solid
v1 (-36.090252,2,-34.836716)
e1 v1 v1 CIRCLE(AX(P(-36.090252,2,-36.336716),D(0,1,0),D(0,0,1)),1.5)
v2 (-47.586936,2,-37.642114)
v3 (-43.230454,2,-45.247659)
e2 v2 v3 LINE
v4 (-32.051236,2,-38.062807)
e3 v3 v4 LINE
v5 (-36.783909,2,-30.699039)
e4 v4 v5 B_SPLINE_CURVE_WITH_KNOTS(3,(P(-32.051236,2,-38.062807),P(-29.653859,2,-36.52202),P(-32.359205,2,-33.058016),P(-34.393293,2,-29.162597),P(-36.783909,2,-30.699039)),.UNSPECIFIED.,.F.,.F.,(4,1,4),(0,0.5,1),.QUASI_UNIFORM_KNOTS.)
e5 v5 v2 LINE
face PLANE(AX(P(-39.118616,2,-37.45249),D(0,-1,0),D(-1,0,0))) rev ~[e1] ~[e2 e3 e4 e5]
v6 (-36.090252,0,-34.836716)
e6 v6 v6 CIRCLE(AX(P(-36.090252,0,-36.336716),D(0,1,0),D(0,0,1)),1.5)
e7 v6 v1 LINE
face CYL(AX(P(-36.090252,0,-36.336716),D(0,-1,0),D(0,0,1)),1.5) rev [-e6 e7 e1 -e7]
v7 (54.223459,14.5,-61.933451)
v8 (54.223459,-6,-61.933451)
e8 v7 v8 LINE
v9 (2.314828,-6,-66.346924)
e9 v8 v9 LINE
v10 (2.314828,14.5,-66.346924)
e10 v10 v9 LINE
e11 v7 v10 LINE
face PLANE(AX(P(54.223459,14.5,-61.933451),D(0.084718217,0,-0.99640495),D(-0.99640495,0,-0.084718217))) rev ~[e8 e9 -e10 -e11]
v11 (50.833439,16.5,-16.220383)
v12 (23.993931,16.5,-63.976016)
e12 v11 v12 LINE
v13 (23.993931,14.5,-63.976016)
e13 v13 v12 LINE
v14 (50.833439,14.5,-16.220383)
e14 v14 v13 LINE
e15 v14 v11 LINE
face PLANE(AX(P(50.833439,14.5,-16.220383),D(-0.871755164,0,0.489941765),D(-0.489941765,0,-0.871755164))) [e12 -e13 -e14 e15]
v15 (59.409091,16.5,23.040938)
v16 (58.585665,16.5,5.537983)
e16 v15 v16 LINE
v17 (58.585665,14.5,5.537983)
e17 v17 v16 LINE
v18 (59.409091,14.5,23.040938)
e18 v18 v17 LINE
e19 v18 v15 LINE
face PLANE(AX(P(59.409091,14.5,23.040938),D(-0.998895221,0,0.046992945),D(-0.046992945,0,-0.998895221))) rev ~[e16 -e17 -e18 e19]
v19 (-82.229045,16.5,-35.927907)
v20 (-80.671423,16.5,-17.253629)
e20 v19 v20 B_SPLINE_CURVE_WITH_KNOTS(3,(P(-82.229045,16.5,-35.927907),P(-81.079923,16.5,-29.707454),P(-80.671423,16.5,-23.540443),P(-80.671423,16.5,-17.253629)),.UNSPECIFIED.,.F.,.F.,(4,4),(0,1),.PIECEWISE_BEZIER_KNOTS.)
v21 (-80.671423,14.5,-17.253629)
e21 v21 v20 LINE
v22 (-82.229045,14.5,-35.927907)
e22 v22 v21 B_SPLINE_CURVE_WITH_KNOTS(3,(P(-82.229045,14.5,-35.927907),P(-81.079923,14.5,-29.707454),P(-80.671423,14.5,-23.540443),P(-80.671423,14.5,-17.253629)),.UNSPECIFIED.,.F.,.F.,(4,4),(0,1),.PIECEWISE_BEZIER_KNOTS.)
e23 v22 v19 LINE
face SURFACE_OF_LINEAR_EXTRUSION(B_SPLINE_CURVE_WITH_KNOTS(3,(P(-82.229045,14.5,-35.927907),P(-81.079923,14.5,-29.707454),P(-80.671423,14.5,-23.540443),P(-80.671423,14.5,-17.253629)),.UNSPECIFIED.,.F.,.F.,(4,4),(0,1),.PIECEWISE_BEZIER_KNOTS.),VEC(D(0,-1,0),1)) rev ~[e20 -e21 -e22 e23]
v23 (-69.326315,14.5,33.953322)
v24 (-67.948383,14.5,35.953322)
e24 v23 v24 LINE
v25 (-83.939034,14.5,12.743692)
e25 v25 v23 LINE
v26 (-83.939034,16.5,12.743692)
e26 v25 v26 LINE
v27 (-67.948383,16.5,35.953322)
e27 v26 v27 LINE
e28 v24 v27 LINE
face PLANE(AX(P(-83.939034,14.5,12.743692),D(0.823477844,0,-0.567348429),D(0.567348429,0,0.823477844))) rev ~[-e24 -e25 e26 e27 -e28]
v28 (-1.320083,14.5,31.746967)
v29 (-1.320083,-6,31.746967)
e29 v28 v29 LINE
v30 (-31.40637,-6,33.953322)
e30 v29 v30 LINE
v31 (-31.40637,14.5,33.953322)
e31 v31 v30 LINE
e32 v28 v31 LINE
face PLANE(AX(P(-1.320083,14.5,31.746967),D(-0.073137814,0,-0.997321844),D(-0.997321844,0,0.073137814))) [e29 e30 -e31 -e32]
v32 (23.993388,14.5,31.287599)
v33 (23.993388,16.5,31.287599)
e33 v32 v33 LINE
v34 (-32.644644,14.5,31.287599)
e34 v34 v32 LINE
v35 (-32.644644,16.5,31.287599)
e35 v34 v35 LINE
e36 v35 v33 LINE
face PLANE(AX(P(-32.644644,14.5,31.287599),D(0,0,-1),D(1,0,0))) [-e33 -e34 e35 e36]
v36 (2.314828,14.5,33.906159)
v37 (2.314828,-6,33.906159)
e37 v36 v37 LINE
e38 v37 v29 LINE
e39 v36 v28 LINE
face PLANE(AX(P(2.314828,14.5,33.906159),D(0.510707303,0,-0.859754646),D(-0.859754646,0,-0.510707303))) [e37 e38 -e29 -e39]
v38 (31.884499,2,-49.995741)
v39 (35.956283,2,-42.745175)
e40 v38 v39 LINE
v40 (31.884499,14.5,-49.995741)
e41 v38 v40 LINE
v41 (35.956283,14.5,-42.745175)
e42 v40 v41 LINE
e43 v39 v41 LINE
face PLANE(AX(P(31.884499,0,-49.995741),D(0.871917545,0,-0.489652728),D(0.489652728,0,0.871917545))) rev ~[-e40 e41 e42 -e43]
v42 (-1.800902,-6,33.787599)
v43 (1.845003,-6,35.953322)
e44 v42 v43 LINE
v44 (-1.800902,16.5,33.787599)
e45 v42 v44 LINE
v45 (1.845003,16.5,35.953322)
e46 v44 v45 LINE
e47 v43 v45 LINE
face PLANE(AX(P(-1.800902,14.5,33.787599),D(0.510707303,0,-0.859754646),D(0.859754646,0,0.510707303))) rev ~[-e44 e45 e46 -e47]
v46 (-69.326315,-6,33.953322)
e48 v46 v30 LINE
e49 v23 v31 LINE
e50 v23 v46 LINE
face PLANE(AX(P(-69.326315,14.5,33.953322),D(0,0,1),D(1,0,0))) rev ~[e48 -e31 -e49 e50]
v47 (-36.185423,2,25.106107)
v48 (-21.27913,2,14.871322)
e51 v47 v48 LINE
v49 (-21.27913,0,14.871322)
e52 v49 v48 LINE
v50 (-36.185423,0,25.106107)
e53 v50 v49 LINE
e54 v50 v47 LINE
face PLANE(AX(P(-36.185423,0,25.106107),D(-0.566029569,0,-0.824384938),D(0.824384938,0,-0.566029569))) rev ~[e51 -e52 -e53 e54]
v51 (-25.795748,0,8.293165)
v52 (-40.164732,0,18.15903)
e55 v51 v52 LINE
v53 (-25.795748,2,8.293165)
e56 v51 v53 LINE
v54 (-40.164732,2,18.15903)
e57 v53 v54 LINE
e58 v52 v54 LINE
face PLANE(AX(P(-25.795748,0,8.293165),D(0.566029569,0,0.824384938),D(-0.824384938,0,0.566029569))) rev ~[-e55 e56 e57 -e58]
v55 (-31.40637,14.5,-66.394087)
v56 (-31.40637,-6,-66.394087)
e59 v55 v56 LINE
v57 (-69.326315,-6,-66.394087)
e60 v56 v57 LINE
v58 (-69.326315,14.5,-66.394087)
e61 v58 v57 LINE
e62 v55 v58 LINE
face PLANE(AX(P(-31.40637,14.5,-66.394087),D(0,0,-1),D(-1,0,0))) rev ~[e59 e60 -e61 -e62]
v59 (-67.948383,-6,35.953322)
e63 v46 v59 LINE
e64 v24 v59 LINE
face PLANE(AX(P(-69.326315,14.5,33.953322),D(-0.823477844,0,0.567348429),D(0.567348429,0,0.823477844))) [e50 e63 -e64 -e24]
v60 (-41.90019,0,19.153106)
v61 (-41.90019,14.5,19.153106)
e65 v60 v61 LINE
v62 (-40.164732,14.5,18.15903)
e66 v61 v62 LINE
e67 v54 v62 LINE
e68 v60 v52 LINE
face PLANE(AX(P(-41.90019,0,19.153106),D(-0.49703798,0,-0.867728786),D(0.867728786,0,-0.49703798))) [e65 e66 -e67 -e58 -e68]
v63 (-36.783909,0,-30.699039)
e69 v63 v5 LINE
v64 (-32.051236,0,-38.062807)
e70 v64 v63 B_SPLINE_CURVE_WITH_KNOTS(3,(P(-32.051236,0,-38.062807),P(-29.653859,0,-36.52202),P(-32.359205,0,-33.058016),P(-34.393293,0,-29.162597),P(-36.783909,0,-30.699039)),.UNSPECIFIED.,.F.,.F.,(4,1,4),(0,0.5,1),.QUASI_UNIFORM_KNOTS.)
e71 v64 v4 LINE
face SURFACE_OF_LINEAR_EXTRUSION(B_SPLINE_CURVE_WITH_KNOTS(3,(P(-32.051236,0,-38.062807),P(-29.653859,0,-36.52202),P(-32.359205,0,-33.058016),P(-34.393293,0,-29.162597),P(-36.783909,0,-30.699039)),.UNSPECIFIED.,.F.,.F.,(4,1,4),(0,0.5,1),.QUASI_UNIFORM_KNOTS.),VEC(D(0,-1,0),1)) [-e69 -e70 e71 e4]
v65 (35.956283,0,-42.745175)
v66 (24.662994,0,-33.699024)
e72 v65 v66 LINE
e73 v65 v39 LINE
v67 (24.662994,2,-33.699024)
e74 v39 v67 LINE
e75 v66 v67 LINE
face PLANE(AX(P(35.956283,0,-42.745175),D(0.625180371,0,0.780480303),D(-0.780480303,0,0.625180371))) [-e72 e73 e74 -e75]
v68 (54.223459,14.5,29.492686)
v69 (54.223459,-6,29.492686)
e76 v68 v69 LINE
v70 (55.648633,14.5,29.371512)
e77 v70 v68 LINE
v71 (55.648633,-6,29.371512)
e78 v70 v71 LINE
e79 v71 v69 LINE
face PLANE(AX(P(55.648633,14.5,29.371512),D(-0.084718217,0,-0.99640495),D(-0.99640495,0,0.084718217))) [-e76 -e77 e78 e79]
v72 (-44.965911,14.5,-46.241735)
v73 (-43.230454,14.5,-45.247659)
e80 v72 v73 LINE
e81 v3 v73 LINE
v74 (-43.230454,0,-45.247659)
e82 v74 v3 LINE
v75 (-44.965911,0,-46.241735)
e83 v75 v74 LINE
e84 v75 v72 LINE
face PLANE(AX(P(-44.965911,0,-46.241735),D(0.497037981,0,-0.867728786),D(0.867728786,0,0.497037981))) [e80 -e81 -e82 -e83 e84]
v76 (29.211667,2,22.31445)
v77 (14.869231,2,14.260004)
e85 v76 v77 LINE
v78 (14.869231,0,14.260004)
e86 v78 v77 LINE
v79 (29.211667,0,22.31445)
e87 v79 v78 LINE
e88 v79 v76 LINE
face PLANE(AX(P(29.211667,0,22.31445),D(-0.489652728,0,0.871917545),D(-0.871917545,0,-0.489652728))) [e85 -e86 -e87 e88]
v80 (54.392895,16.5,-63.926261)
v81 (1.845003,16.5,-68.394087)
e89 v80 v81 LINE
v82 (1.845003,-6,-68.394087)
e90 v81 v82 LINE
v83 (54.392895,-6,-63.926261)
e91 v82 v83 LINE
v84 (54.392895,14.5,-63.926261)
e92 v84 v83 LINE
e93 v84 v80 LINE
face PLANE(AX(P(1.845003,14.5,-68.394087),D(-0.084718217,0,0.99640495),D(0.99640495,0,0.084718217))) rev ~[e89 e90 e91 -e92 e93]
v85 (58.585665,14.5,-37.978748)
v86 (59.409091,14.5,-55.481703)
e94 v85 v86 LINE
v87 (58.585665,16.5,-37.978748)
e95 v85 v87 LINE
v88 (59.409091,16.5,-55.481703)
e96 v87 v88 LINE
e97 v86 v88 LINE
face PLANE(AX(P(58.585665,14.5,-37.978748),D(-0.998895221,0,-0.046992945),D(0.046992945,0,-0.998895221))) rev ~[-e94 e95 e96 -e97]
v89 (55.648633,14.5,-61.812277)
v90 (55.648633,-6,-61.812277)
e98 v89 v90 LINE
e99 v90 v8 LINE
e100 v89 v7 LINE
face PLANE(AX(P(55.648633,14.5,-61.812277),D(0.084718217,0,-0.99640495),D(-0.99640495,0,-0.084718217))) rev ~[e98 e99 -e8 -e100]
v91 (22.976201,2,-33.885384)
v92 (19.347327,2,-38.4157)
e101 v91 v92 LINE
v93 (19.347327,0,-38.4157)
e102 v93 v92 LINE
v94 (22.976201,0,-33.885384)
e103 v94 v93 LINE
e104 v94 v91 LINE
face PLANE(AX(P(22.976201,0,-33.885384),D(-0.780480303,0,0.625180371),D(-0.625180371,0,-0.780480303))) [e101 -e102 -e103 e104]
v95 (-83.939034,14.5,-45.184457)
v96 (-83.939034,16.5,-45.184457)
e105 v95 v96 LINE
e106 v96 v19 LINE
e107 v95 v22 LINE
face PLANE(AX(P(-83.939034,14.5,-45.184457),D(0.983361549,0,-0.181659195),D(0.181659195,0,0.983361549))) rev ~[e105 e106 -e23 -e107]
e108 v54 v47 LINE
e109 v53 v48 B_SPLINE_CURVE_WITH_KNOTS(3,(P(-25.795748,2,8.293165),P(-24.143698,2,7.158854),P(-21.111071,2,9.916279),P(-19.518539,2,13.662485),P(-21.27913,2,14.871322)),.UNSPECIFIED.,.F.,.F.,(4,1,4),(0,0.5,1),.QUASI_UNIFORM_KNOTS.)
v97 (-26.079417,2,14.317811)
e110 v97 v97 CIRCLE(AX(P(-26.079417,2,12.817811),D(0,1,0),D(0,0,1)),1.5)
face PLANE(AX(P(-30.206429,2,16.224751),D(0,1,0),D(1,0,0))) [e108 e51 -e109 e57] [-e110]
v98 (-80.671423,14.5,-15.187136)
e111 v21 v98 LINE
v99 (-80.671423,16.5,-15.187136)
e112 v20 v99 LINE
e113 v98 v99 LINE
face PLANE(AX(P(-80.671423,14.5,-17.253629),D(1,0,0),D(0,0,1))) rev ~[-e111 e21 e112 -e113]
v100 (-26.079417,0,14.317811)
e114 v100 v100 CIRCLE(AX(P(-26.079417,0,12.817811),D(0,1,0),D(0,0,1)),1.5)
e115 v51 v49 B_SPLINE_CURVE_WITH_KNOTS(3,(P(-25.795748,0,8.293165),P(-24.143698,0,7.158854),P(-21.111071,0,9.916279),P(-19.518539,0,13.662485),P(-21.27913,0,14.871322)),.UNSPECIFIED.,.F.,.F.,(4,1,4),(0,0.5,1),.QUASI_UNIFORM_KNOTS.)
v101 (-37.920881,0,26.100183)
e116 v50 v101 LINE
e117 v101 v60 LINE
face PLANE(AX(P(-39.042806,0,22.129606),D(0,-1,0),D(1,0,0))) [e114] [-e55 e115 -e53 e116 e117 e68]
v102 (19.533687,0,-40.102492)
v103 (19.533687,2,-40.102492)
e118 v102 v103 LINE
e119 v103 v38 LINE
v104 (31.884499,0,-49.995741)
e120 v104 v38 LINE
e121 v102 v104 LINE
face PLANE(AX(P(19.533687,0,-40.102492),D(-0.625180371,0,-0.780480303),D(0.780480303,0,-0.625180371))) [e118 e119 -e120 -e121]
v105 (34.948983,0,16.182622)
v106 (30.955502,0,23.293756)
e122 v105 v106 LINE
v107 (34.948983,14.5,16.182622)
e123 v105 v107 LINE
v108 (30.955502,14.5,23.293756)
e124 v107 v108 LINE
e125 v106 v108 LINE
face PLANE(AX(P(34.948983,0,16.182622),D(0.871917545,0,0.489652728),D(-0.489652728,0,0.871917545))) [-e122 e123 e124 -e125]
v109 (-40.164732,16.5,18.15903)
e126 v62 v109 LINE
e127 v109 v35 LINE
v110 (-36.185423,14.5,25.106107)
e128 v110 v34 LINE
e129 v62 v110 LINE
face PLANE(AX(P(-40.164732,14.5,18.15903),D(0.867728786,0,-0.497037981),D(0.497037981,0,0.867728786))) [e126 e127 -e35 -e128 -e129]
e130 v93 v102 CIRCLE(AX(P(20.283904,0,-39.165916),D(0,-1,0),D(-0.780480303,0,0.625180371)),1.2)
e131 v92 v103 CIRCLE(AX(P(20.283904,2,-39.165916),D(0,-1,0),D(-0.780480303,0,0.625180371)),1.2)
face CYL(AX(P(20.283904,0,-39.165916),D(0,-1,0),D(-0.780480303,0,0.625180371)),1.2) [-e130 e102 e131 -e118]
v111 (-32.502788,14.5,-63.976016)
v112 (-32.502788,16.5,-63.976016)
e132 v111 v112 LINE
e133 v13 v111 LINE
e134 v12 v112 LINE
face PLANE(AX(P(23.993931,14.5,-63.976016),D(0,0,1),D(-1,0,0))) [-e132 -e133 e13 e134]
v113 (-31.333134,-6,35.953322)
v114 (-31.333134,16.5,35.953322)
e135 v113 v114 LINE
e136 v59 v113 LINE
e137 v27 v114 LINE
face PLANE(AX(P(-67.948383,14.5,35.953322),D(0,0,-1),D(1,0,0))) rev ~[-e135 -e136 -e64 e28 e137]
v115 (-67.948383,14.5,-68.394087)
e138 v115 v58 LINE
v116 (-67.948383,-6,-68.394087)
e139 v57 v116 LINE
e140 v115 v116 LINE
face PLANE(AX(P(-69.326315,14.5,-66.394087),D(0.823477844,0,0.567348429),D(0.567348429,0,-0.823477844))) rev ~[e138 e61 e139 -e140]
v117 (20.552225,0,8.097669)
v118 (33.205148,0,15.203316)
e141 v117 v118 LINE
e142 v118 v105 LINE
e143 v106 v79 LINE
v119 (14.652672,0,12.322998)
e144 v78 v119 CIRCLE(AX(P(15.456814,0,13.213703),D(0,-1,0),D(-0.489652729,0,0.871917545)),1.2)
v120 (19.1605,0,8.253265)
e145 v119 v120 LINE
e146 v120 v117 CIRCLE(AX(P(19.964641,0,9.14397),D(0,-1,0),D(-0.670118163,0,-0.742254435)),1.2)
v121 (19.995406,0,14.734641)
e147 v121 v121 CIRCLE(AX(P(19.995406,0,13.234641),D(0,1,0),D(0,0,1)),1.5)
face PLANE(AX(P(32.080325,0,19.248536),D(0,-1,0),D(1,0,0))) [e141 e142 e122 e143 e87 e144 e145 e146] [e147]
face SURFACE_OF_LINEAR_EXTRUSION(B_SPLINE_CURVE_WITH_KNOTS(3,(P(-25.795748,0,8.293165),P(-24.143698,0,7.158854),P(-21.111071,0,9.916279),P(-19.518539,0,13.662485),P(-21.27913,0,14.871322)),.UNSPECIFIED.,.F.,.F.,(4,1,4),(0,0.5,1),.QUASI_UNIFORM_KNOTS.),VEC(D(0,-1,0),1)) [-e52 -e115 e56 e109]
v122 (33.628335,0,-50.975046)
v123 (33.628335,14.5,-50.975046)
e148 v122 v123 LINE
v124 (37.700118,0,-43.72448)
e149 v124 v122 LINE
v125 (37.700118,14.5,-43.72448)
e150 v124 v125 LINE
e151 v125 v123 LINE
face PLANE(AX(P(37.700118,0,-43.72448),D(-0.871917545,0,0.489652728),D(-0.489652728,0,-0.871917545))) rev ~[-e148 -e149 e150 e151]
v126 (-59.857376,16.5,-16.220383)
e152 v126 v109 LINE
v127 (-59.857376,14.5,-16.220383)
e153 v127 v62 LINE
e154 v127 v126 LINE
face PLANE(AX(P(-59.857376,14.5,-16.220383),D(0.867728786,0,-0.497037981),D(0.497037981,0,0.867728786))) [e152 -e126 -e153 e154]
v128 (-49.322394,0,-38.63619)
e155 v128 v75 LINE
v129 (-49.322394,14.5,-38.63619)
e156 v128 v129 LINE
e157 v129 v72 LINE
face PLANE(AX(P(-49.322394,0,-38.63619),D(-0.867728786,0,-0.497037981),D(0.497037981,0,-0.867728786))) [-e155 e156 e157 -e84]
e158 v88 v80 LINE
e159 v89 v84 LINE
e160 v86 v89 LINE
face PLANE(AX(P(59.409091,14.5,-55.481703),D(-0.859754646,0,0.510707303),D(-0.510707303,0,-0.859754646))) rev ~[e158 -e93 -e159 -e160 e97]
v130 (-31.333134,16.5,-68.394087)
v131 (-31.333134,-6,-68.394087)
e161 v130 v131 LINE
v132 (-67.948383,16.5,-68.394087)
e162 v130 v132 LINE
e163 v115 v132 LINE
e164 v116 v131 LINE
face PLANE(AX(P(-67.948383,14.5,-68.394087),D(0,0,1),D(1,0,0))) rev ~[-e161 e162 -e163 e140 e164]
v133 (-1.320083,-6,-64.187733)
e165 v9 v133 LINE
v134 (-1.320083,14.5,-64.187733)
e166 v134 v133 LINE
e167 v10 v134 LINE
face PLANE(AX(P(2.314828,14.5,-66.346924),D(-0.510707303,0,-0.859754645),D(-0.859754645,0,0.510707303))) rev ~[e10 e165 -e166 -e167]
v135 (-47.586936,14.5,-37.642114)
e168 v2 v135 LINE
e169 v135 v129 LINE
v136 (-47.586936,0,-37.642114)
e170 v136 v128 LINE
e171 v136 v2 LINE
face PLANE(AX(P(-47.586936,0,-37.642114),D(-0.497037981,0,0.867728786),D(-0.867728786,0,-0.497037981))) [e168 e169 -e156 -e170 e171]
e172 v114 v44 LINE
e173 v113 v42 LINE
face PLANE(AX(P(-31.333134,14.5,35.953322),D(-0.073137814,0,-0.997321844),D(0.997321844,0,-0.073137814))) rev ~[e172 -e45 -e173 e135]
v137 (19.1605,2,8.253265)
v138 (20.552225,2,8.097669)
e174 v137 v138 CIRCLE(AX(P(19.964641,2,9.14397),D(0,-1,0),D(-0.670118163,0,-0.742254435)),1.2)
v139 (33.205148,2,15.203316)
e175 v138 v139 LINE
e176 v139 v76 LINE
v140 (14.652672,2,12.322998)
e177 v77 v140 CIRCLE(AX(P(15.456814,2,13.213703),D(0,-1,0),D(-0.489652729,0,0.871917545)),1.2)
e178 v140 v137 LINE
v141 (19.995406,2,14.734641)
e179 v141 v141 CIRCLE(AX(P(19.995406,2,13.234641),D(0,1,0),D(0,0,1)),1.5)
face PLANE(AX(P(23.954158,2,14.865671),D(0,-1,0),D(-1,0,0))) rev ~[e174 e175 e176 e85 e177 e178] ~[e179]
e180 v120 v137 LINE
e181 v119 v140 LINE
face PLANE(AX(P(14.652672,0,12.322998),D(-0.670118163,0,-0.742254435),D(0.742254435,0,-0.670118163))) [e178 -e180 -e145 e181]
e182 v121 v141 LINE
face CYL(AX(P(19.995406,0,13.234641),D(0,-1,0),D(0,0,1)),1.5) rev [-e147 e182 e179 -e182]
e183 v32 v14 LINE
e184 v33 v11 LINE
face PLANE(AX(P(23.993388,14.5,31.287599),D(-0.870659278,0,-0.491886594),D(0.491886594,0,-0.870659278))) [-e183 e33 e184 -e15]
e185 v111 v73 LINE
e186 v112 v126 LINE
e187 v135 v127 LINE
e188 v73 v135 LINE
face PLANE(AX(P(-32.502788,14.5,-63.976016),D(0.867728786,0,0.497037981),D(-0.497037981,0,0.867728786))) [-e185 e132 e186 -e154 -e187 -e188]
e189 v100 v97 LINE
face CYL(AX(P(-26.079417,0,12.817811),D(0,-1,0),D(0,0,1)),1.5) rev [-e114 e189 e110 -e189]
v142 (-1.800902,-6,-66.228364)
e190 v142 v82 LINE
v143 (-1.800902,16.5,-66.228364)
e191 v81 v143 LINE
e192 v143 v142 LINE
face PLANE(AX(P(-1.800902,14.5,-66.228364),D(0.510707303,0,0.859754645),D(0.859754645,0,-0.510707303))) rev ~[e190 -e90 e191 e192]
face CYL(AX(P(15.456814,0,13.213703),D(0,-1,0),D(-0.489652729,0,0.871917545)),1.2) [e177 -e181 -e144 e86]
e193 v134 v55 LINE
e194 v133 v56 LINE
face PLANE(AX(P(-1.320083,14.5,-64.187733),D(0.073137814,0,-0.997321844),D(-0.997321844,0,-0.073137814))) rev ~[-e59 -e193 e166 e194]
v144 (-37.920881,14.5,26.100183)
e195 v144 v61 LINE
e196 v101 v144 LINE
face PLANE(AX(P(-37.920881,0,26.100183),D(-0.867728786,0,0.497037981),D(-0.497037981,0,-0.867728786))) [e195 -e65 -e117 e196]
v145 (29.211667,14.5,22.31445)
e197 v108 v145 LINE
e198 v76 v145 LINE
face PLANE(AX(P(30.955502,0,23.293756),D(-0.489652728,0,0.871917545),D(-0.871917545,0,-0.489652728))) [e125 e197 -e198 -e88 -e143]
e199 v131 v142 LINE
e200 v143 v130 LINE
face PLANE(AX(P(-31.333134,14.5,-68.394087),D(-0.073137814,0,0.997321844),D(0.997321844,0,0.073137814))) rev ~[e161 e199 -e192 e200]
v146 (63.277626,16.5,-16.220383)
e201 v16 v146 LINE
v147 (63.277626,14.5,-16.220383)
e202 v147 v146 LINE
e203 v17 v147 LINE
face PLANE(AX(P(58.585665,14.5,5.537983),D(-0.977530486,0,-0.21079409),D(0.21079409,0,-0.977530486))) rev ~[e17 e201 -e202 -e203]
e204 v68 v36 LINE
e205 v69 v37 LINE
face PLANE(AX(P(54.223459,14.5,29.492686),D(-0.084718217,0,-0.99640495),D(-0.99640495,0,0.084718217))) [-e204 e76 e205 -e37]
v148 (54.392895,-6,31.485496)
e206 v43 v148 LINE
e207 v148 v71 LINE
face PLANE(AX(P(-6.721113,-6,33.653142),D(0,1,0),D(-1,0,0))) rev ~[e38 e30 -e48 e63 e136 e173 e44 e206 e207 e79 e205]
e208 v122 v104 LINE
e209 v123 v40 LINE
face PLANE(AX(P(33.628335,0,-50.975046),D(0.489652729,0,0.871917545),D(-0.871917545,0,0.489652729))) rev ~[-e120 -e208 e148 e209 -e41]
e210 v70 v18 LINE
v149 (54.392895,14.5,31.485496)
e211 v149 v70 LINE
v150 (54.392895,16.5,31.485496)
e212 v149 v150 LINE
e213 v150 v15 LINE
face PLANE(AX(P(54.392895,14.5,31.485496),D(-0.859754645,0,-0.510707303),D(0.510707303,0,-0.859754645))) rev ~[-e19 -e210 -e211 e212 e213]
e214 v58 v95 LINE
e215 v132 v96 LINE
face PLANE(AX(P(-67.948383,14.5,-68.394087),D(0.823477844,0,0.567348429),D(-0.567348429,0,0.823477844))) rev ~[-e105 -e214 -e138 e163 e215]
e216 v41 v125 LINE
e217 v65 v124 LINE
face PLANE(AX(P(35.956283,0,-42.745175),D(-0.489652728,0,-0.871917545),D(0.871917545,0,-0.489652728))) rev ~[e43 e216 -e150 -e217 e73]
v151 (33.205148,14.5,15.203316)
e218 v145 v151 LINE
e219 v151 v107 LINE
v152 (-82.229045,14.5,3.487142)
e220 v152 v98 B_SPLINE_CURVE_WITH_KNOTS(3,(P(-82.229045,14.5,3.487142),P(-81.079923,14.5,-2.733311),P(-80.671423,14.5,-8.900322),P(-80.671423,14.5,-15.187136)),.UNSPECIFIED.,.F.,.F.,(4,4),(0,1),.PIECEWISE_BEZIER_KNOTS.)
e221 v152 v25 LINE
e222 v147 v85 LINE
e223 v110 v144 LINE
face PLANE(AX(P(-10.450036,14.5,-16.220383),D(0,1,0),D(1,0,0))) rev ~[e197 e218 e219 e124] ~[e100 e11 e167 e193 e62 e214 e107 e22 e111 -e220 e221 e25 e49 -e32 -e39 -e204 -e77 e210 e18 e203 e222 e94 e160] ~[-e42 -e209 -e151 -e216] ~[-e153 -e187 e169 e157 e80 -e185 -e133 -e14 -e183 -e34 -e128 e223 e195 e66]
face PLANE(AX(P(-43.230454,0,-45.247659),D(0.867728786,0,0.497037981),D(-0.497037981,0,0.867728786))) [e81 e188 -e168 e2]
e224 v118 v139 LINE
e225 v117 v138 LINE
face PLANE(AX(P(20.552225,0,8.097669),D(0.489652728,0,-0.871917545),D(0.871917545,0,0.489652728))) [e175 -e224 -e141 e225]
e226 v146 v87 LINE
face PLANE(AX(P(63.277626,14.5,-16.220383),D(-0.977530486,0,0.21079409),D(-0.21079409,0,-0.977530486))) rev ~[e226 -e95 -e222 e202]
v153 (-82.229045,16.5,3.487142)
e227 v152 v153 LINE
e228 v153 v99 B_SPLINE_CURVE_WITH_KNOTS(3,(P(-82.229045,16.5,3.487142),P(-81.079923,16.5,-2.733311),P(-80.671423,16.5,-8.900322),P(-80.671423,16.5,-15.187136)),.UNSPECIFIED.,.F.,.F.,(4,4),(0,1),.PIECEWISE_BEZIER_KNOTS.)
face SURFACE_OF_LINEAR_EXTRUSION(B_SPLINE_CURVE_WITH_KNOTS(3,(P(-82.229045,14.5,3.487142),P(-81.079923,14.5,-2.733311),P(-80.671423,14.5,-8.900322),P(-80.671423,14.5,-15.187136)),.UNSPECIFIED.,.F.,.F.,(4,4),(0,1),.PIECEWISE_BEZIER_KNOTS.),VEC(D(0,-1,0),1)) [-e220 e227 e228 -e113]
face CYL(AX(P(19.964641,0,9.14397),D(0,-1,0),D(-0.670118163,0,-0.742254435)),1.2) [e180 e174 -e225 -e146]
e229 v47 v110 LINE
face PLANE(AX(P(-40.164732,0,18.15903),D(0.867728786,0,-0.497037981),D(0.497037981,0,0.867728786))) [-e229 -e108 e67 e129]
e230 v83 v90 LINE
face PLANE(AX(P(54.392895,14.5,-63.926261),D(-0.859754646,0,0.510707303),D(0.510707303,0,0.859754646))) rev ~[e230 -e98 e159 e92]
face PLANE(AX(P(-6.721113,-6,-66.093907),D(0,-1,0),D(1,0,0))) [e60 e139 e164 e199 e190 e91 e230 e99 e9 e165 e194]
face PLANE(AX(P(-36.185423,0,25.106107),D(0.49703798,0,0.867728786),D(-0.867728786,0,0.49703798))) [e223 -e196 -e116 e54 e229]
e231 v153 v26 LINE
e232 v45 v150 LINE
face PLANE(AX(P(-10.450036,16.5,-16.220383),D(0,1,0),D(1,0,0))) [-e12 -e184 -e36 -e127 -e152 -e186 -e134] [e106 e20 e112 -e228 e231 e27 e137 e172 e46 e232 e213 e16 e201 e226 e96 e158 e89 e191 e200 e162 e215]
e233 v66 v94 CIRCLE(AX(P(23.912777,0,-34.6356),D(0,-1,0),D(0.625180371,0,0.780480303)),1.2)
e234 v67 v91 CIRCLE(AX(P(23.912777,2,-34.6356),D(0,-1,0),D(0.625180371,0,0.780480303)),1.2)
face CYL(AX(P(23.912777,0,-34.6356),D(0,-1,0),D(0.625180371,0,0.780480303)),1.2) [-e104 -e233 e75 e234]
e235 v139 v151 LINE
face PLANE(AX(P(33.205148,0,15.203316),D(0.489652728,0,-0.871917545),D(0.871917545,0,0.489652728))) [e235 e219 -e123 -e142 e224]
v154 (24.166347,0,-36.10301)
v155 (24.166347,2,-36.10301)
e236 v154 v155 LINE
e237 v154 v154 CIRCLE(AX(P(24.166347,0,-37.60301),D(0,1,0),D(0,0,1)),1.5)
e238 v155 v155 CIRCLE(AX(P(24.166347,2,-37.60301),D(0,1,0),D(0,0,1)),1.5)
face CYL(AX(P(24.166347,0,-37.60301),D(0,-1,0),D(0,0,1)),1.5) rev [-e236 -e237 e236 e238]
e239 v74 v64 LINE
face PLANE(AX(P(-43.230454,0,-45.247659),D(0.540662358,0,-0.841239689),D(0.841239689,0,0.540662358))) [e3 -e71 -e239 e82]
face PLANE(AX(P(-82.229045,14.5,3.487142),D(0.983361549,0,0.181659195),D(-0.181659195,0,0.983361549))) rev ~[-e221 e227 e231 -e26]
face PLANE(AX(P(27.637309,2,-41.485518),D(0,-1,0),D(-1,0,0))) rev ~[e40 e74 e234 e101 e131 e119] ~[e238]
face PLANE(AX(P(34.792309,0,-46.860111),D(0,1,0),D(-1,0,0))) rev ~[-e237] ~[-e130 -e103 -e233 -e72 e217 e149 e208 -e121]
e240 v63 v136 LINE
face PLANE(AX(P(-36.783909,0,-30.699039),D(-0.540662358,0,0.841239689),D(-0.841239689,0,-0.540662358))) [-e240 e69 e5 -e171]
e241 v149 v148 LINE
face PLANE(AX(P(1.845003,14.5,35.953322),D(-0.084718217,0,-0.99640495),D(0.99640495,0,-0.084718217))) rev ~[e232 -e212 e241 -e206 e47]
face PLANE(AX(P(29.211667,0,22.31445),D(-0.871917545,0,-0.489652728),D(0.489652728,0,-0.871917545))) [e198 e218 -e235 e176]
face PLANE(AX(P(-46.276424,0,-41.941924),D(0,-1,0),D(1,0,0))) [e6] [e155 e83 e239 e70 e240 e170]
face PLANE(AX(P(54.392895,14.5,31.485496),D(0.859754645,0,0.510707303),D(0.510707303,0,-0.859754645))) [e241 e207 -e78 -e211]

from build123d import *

# Parameters (mm, degrees)
SKETCH2_R             = 1.5
BOSS_EXTRUDE3_DEPTH   = 2
BOSS_EXTRUDE3_2_DEPTH = 2
BOSS_EXTRUDE3_3_DEPTH = 2
BOSS_EXTRUDE3_4_DEPTH = 2
BOSS_EXTRUDE7_DEPTH   = 14.5
BOSS_EXTRUDE8_DEPTH   = 2
BOSS_EXTRUDE9_DEPTH   = 20.5


with BuildPart() as part:
    # Sketch2 → Boss-Extrude3 (new body)
    with BuildSketch(Plane(origin=(0, 0, 0), x_dir=(1, 0, 0), z_dir=(0, 1, 0))):
        with BuildLine():
            Line((-43.230453913, 45.247658967), (-32.051235735, 38.062807212))
            add(Edge.make_bspline(
                [(-32.051235735, 38.062807212), (-29.653859452, 36.522020287), (-32.359204514, 33.058015897), (-34.393292894, 29.162596744), (-36.78390878, 30.699038781)],
                knots=[0, 0, 0, 0, 0.5, 1, 1, 1, 1], degree=3))
            Line((-36.78390878, 30.699038781), (-47.586935967, 37.642113656))
            Line((-47.586935967, 37.642113656), (-43.230453913, 45.247658967))
        make_face()
        with Locations(Location((-36.090252253, 36.336715974, 0), (0, 0, 270))):
            Circle(SKETCH2_R, mode=Mode.SUBTRACT)
    extrude(amount=BOSS_EXTRUDE3_DEPTH)



with BuildPart() as body_2:
    # Sketch2 → Boss-Extrude3 2 (new body)
    with BuildSketch(Plane(origin=(0, 0, 0), x_dir=(1, 0, 0), z_dir=(0, 1, 0))):
        with BuildLine():
            Line((-36.185423109, -25.10610692), (-21.279130416, -14.871322122))
            add(Edge.make_bspline(
                [(-25.795747584, -8.293165489), (-24.143697719, -7.158854283), (-21.111071083, -9.916279371), (-19.518538576, -13.662485091), (-21.279130416, -14.871322122)],
                knots=[0, 0, 0, 0, 0.5, 1, 1, 1, 1], degree=3))
            Line((-25.795747584, -8.293165489), (-40.164732197, -18.159030081))
            Line((-40.164732197, -18.159030081), (-36.185423109, -25.10610692))
        make_face()
        with Locations(Location((-26.079416612, -12.817810533, 0), (0, 0, 270))):
            Circle(SKETCH2_R, mode=Mode.SUBTRACT)
    extrude(amount=BOSS_EXTRUDE3_2_DEPTH)


with BuildPart() as body_3:
    # Sketch2 → Boss-Extrude3 3 (new body)
    with BuildSketch(Plane(origin=(0, 0, 0), x_dir=(1, 0, 0), z_dir=(0, 1, 0))):
        with BuildLine():
            Line((29.211666773, -22.314450198), (14.869230537, -14.260003913))
            ThreePointArc((14.869230537, -14.260003913), (14.264243858, -13.347032924), (14.652672015, -12.322997536))
            Line((14.652672015, -12.322997536), (19.160499642, -8.253264805))
            ThreePointArc((19.160499642, -8.253264805), (19.831311373, -7.951400174), (20.552224713, -8.097669073))
            Line((20.552224713, -8.097669073), (33.205147834, -15.203316117))
            Line((33.205147834, -15.203316117), (29.211666773, -22.314450198))
        make_face()
        with Locations(Location((19.995405598, -13.234640771, 0), (0, 0, 270))):
            Circle(SKETCH2_R, mode=Mode.SUBTRACT)
    extrude(amount=BOSS_EXTRUDE3_3_DEPTH)


with BuildPart() as body_4:
    # Sketch2 → Boss-Extrude3 4 (new body)
    with BuildSketch(Plane(origin=(0, 0, 0), x_dir=(1, 0, 0), z_dir=(0, 1, 0))):
        with BuildLine():
            Line((35.956282792, 42.745174925), (24.662993698, 33.699023938))
            ThreePointArc((24.662993698, 33.699023938), (23.78100089, 33.442857668), (22.976200889, 33.885383856))
            Line((22.976200889, 33.885383856), (19.347327143, 38.415699606))
            ThreePointArc((19.347327143, 38.415699606), (19.091160873, 39.297692414), (19.533687061, 40.102492416))
            Line((19.533687061, 40.102492416), (31.884499443, 49.995740759))
            Line((31.884499443, 49.995740759), (35.956282792, 42.745174925))
        make_face()
        with Locations(Location((24.166347117, 37.603010106, 0), (0, 0, 270))):
            Circle(SKETCH2_R, mode=Mode.SUBTRACT)
    extrude(amount=BOSS_EXTRUDE3_4_DEPTH)


with BuildPart() as part_1:
    add(part.part)

    add(body_2.part)  # Boss-Extrude7 merges body 2

    add(body_3.part)  # Boss-Extrude7 merges body 3

    add(body_4.part)  # Boss-Extrude7 merges body 4
    # Sketch7 → Boss-Extrude7 (add)
    with BuildSketch(Plane.XZ):
        Polygon((-36.185423109, 25.10610692), (-37.920880681, 26.100182881), (-41.900189769, 19.153106042), (-40.164732197, 18.159030081), align=None)
        Polygon((-43.230453913, -45.247658967), (-47.586935967, -37.642113656), (-49.322393538, -38.636189617), (-44.965911485, -46.241734929), align=None)
        Polygon((31.884499443, -49.995740759), (35.956282792, -42.745174925), (37.700117882, -43.724480381), (33.628334533, -50.975046216), align=None)
        Polygon((29.211666773, 22.314450198), (33.205147834, 15.203316117), (34.948982925, 16.182621573), (30.955501863, 23.293755654), align=None)
    extrude(amount=-BOSS_EXTRUDE7_DEPTH)

    # Sketch8 → Boss-Extrude8 (add)
    with BuildSketch(Plane(origin=(0, 14.5, 0), x_dir=(1, 0, 0), z_dir=(0, 1, 0))):
        with BuildLine():
            Line((-83.939033809, -12.743691802), (-67.948382544, -35.953321652))
            Line((-67.948382544, -35.953321652), (-31.333133825, -35.953321652))
            Line((-31.333133825, -35.953321652), (-1.800901789, -33.787598607))
            Line((-1.800901789, -33.787598607), (1.845003483, -35.953321652))
            Line((1.845003483, -35.953321652), (54.392894937, -31.485495915))
            Line((54.392894937, -31.485495915), (59.409090539, -23.040937859))
            Line((59.409090539, -23.040937859), (58.585665433, -5.537982821))
            Line((58.585665433, -5.537982821), (63.277626353, 16.220382558))
            Line((63.277626353, 16.220382558), (58.585665433, 37.978747936))
            Line((58.585665433, 37.978747936), (59.409090539, 55.481702974))
            Line((59.409090539, 55.481702974), (54.392894937, 63.926261031))
            Line((54.392894937, 63.926261031), (1.845003483, 68.394086768))
            Line((1.845003483, 68.394086768), (-1.800901789, 66.228363722))
            Line((-1.800901789, 66.228363722), (-31.333133825, 68.394086768))
            Line((-31.333133825, 68.394086768), (-67.948382544, 68.394086768))
            Line((-67.948382544, 68.394086768), (-83.939033809, 45.184456918))
            Line((-83.939033809, 45.184456918), (-82.229044773, 35.927906641))
            add(Edge.make_bspline(
                [(-82.229044773, 35.927906641), (-81.079922832, 29.707454467), (-80.671423408, 23.540442654), (-80.671423408, 17.253629197)],
                knots=[0, 0, 0, 0, 1, 1, 1, 1], degree=3))
            Line((-80.671423408, 17.253629197), (-80.671423408, 15.187135918))
            add(Edge.make_bspline(
                [(-82.229044773, -3.487141526), (-81.079922832, 2.733310648), (-80.671423408, 8.900322461), (-80.671423408, 15.187135918)],
                knots=[0, 0, 0, 0, 1, 1, 1, 1], degree=3))
            Line((-82.229044773, -3.487141526), (-83.939033809, -12.743691802))
        make_face()
        Polygon((-59.857375923, 16.220382558), (-40.164732197, -18.159030081), (-32.644643784, -31.287598607), (23.993388186, -31.287598607), (50.833438729, 16.220382558), (23.99393098, 63.976016309), (-32.502787546, 63.976016309), align=None, mode=Mode.SUBTRACT)
    extrude(amount=BOSS_EXTRUDE8_DEPTH)

    # Sketch9 → Boss-Extrude9 (add)
    with BuildSketch(Plane.XZ.offset(-14.5)):
        Polygon((-67.948382544, -66.394086768), (-69.326315011, -66.394086768), (-67.948382544, -68.394086768), (-31.333133825, -68.394086768), (-1.800901789, -66.228363722), (1.845003483, -68.394086768), (54.392894937, -63.926261031), (55.648633387, -61.81227723), (54.223458503, -61.933451132), (2.314827743, -66.346924443), (-1.320082635, -64.187732531), (-31.406369708, -66.394086768), align=None)
        Polygon((-67.948382544, 33.953321652), (-69.326315011, 33.953321652), (-67.948382544, 35.953321652), (-31.333133825, 35.953321652), (-1.800901789, 33.787598607), (1.845003483, 35.953321652), (54.392894937, 31.485495915), (55.648633387, 29.371512115), (54.223458503, 29.492686016), (2.314827743, 33.906159327), (-1.320082635, 31.746967416), (-31.406369708, 33.953321652), align=None)
    extrude(amount=BOSS_EXTRUDE9_DEPTH)


solid = part_1.part
